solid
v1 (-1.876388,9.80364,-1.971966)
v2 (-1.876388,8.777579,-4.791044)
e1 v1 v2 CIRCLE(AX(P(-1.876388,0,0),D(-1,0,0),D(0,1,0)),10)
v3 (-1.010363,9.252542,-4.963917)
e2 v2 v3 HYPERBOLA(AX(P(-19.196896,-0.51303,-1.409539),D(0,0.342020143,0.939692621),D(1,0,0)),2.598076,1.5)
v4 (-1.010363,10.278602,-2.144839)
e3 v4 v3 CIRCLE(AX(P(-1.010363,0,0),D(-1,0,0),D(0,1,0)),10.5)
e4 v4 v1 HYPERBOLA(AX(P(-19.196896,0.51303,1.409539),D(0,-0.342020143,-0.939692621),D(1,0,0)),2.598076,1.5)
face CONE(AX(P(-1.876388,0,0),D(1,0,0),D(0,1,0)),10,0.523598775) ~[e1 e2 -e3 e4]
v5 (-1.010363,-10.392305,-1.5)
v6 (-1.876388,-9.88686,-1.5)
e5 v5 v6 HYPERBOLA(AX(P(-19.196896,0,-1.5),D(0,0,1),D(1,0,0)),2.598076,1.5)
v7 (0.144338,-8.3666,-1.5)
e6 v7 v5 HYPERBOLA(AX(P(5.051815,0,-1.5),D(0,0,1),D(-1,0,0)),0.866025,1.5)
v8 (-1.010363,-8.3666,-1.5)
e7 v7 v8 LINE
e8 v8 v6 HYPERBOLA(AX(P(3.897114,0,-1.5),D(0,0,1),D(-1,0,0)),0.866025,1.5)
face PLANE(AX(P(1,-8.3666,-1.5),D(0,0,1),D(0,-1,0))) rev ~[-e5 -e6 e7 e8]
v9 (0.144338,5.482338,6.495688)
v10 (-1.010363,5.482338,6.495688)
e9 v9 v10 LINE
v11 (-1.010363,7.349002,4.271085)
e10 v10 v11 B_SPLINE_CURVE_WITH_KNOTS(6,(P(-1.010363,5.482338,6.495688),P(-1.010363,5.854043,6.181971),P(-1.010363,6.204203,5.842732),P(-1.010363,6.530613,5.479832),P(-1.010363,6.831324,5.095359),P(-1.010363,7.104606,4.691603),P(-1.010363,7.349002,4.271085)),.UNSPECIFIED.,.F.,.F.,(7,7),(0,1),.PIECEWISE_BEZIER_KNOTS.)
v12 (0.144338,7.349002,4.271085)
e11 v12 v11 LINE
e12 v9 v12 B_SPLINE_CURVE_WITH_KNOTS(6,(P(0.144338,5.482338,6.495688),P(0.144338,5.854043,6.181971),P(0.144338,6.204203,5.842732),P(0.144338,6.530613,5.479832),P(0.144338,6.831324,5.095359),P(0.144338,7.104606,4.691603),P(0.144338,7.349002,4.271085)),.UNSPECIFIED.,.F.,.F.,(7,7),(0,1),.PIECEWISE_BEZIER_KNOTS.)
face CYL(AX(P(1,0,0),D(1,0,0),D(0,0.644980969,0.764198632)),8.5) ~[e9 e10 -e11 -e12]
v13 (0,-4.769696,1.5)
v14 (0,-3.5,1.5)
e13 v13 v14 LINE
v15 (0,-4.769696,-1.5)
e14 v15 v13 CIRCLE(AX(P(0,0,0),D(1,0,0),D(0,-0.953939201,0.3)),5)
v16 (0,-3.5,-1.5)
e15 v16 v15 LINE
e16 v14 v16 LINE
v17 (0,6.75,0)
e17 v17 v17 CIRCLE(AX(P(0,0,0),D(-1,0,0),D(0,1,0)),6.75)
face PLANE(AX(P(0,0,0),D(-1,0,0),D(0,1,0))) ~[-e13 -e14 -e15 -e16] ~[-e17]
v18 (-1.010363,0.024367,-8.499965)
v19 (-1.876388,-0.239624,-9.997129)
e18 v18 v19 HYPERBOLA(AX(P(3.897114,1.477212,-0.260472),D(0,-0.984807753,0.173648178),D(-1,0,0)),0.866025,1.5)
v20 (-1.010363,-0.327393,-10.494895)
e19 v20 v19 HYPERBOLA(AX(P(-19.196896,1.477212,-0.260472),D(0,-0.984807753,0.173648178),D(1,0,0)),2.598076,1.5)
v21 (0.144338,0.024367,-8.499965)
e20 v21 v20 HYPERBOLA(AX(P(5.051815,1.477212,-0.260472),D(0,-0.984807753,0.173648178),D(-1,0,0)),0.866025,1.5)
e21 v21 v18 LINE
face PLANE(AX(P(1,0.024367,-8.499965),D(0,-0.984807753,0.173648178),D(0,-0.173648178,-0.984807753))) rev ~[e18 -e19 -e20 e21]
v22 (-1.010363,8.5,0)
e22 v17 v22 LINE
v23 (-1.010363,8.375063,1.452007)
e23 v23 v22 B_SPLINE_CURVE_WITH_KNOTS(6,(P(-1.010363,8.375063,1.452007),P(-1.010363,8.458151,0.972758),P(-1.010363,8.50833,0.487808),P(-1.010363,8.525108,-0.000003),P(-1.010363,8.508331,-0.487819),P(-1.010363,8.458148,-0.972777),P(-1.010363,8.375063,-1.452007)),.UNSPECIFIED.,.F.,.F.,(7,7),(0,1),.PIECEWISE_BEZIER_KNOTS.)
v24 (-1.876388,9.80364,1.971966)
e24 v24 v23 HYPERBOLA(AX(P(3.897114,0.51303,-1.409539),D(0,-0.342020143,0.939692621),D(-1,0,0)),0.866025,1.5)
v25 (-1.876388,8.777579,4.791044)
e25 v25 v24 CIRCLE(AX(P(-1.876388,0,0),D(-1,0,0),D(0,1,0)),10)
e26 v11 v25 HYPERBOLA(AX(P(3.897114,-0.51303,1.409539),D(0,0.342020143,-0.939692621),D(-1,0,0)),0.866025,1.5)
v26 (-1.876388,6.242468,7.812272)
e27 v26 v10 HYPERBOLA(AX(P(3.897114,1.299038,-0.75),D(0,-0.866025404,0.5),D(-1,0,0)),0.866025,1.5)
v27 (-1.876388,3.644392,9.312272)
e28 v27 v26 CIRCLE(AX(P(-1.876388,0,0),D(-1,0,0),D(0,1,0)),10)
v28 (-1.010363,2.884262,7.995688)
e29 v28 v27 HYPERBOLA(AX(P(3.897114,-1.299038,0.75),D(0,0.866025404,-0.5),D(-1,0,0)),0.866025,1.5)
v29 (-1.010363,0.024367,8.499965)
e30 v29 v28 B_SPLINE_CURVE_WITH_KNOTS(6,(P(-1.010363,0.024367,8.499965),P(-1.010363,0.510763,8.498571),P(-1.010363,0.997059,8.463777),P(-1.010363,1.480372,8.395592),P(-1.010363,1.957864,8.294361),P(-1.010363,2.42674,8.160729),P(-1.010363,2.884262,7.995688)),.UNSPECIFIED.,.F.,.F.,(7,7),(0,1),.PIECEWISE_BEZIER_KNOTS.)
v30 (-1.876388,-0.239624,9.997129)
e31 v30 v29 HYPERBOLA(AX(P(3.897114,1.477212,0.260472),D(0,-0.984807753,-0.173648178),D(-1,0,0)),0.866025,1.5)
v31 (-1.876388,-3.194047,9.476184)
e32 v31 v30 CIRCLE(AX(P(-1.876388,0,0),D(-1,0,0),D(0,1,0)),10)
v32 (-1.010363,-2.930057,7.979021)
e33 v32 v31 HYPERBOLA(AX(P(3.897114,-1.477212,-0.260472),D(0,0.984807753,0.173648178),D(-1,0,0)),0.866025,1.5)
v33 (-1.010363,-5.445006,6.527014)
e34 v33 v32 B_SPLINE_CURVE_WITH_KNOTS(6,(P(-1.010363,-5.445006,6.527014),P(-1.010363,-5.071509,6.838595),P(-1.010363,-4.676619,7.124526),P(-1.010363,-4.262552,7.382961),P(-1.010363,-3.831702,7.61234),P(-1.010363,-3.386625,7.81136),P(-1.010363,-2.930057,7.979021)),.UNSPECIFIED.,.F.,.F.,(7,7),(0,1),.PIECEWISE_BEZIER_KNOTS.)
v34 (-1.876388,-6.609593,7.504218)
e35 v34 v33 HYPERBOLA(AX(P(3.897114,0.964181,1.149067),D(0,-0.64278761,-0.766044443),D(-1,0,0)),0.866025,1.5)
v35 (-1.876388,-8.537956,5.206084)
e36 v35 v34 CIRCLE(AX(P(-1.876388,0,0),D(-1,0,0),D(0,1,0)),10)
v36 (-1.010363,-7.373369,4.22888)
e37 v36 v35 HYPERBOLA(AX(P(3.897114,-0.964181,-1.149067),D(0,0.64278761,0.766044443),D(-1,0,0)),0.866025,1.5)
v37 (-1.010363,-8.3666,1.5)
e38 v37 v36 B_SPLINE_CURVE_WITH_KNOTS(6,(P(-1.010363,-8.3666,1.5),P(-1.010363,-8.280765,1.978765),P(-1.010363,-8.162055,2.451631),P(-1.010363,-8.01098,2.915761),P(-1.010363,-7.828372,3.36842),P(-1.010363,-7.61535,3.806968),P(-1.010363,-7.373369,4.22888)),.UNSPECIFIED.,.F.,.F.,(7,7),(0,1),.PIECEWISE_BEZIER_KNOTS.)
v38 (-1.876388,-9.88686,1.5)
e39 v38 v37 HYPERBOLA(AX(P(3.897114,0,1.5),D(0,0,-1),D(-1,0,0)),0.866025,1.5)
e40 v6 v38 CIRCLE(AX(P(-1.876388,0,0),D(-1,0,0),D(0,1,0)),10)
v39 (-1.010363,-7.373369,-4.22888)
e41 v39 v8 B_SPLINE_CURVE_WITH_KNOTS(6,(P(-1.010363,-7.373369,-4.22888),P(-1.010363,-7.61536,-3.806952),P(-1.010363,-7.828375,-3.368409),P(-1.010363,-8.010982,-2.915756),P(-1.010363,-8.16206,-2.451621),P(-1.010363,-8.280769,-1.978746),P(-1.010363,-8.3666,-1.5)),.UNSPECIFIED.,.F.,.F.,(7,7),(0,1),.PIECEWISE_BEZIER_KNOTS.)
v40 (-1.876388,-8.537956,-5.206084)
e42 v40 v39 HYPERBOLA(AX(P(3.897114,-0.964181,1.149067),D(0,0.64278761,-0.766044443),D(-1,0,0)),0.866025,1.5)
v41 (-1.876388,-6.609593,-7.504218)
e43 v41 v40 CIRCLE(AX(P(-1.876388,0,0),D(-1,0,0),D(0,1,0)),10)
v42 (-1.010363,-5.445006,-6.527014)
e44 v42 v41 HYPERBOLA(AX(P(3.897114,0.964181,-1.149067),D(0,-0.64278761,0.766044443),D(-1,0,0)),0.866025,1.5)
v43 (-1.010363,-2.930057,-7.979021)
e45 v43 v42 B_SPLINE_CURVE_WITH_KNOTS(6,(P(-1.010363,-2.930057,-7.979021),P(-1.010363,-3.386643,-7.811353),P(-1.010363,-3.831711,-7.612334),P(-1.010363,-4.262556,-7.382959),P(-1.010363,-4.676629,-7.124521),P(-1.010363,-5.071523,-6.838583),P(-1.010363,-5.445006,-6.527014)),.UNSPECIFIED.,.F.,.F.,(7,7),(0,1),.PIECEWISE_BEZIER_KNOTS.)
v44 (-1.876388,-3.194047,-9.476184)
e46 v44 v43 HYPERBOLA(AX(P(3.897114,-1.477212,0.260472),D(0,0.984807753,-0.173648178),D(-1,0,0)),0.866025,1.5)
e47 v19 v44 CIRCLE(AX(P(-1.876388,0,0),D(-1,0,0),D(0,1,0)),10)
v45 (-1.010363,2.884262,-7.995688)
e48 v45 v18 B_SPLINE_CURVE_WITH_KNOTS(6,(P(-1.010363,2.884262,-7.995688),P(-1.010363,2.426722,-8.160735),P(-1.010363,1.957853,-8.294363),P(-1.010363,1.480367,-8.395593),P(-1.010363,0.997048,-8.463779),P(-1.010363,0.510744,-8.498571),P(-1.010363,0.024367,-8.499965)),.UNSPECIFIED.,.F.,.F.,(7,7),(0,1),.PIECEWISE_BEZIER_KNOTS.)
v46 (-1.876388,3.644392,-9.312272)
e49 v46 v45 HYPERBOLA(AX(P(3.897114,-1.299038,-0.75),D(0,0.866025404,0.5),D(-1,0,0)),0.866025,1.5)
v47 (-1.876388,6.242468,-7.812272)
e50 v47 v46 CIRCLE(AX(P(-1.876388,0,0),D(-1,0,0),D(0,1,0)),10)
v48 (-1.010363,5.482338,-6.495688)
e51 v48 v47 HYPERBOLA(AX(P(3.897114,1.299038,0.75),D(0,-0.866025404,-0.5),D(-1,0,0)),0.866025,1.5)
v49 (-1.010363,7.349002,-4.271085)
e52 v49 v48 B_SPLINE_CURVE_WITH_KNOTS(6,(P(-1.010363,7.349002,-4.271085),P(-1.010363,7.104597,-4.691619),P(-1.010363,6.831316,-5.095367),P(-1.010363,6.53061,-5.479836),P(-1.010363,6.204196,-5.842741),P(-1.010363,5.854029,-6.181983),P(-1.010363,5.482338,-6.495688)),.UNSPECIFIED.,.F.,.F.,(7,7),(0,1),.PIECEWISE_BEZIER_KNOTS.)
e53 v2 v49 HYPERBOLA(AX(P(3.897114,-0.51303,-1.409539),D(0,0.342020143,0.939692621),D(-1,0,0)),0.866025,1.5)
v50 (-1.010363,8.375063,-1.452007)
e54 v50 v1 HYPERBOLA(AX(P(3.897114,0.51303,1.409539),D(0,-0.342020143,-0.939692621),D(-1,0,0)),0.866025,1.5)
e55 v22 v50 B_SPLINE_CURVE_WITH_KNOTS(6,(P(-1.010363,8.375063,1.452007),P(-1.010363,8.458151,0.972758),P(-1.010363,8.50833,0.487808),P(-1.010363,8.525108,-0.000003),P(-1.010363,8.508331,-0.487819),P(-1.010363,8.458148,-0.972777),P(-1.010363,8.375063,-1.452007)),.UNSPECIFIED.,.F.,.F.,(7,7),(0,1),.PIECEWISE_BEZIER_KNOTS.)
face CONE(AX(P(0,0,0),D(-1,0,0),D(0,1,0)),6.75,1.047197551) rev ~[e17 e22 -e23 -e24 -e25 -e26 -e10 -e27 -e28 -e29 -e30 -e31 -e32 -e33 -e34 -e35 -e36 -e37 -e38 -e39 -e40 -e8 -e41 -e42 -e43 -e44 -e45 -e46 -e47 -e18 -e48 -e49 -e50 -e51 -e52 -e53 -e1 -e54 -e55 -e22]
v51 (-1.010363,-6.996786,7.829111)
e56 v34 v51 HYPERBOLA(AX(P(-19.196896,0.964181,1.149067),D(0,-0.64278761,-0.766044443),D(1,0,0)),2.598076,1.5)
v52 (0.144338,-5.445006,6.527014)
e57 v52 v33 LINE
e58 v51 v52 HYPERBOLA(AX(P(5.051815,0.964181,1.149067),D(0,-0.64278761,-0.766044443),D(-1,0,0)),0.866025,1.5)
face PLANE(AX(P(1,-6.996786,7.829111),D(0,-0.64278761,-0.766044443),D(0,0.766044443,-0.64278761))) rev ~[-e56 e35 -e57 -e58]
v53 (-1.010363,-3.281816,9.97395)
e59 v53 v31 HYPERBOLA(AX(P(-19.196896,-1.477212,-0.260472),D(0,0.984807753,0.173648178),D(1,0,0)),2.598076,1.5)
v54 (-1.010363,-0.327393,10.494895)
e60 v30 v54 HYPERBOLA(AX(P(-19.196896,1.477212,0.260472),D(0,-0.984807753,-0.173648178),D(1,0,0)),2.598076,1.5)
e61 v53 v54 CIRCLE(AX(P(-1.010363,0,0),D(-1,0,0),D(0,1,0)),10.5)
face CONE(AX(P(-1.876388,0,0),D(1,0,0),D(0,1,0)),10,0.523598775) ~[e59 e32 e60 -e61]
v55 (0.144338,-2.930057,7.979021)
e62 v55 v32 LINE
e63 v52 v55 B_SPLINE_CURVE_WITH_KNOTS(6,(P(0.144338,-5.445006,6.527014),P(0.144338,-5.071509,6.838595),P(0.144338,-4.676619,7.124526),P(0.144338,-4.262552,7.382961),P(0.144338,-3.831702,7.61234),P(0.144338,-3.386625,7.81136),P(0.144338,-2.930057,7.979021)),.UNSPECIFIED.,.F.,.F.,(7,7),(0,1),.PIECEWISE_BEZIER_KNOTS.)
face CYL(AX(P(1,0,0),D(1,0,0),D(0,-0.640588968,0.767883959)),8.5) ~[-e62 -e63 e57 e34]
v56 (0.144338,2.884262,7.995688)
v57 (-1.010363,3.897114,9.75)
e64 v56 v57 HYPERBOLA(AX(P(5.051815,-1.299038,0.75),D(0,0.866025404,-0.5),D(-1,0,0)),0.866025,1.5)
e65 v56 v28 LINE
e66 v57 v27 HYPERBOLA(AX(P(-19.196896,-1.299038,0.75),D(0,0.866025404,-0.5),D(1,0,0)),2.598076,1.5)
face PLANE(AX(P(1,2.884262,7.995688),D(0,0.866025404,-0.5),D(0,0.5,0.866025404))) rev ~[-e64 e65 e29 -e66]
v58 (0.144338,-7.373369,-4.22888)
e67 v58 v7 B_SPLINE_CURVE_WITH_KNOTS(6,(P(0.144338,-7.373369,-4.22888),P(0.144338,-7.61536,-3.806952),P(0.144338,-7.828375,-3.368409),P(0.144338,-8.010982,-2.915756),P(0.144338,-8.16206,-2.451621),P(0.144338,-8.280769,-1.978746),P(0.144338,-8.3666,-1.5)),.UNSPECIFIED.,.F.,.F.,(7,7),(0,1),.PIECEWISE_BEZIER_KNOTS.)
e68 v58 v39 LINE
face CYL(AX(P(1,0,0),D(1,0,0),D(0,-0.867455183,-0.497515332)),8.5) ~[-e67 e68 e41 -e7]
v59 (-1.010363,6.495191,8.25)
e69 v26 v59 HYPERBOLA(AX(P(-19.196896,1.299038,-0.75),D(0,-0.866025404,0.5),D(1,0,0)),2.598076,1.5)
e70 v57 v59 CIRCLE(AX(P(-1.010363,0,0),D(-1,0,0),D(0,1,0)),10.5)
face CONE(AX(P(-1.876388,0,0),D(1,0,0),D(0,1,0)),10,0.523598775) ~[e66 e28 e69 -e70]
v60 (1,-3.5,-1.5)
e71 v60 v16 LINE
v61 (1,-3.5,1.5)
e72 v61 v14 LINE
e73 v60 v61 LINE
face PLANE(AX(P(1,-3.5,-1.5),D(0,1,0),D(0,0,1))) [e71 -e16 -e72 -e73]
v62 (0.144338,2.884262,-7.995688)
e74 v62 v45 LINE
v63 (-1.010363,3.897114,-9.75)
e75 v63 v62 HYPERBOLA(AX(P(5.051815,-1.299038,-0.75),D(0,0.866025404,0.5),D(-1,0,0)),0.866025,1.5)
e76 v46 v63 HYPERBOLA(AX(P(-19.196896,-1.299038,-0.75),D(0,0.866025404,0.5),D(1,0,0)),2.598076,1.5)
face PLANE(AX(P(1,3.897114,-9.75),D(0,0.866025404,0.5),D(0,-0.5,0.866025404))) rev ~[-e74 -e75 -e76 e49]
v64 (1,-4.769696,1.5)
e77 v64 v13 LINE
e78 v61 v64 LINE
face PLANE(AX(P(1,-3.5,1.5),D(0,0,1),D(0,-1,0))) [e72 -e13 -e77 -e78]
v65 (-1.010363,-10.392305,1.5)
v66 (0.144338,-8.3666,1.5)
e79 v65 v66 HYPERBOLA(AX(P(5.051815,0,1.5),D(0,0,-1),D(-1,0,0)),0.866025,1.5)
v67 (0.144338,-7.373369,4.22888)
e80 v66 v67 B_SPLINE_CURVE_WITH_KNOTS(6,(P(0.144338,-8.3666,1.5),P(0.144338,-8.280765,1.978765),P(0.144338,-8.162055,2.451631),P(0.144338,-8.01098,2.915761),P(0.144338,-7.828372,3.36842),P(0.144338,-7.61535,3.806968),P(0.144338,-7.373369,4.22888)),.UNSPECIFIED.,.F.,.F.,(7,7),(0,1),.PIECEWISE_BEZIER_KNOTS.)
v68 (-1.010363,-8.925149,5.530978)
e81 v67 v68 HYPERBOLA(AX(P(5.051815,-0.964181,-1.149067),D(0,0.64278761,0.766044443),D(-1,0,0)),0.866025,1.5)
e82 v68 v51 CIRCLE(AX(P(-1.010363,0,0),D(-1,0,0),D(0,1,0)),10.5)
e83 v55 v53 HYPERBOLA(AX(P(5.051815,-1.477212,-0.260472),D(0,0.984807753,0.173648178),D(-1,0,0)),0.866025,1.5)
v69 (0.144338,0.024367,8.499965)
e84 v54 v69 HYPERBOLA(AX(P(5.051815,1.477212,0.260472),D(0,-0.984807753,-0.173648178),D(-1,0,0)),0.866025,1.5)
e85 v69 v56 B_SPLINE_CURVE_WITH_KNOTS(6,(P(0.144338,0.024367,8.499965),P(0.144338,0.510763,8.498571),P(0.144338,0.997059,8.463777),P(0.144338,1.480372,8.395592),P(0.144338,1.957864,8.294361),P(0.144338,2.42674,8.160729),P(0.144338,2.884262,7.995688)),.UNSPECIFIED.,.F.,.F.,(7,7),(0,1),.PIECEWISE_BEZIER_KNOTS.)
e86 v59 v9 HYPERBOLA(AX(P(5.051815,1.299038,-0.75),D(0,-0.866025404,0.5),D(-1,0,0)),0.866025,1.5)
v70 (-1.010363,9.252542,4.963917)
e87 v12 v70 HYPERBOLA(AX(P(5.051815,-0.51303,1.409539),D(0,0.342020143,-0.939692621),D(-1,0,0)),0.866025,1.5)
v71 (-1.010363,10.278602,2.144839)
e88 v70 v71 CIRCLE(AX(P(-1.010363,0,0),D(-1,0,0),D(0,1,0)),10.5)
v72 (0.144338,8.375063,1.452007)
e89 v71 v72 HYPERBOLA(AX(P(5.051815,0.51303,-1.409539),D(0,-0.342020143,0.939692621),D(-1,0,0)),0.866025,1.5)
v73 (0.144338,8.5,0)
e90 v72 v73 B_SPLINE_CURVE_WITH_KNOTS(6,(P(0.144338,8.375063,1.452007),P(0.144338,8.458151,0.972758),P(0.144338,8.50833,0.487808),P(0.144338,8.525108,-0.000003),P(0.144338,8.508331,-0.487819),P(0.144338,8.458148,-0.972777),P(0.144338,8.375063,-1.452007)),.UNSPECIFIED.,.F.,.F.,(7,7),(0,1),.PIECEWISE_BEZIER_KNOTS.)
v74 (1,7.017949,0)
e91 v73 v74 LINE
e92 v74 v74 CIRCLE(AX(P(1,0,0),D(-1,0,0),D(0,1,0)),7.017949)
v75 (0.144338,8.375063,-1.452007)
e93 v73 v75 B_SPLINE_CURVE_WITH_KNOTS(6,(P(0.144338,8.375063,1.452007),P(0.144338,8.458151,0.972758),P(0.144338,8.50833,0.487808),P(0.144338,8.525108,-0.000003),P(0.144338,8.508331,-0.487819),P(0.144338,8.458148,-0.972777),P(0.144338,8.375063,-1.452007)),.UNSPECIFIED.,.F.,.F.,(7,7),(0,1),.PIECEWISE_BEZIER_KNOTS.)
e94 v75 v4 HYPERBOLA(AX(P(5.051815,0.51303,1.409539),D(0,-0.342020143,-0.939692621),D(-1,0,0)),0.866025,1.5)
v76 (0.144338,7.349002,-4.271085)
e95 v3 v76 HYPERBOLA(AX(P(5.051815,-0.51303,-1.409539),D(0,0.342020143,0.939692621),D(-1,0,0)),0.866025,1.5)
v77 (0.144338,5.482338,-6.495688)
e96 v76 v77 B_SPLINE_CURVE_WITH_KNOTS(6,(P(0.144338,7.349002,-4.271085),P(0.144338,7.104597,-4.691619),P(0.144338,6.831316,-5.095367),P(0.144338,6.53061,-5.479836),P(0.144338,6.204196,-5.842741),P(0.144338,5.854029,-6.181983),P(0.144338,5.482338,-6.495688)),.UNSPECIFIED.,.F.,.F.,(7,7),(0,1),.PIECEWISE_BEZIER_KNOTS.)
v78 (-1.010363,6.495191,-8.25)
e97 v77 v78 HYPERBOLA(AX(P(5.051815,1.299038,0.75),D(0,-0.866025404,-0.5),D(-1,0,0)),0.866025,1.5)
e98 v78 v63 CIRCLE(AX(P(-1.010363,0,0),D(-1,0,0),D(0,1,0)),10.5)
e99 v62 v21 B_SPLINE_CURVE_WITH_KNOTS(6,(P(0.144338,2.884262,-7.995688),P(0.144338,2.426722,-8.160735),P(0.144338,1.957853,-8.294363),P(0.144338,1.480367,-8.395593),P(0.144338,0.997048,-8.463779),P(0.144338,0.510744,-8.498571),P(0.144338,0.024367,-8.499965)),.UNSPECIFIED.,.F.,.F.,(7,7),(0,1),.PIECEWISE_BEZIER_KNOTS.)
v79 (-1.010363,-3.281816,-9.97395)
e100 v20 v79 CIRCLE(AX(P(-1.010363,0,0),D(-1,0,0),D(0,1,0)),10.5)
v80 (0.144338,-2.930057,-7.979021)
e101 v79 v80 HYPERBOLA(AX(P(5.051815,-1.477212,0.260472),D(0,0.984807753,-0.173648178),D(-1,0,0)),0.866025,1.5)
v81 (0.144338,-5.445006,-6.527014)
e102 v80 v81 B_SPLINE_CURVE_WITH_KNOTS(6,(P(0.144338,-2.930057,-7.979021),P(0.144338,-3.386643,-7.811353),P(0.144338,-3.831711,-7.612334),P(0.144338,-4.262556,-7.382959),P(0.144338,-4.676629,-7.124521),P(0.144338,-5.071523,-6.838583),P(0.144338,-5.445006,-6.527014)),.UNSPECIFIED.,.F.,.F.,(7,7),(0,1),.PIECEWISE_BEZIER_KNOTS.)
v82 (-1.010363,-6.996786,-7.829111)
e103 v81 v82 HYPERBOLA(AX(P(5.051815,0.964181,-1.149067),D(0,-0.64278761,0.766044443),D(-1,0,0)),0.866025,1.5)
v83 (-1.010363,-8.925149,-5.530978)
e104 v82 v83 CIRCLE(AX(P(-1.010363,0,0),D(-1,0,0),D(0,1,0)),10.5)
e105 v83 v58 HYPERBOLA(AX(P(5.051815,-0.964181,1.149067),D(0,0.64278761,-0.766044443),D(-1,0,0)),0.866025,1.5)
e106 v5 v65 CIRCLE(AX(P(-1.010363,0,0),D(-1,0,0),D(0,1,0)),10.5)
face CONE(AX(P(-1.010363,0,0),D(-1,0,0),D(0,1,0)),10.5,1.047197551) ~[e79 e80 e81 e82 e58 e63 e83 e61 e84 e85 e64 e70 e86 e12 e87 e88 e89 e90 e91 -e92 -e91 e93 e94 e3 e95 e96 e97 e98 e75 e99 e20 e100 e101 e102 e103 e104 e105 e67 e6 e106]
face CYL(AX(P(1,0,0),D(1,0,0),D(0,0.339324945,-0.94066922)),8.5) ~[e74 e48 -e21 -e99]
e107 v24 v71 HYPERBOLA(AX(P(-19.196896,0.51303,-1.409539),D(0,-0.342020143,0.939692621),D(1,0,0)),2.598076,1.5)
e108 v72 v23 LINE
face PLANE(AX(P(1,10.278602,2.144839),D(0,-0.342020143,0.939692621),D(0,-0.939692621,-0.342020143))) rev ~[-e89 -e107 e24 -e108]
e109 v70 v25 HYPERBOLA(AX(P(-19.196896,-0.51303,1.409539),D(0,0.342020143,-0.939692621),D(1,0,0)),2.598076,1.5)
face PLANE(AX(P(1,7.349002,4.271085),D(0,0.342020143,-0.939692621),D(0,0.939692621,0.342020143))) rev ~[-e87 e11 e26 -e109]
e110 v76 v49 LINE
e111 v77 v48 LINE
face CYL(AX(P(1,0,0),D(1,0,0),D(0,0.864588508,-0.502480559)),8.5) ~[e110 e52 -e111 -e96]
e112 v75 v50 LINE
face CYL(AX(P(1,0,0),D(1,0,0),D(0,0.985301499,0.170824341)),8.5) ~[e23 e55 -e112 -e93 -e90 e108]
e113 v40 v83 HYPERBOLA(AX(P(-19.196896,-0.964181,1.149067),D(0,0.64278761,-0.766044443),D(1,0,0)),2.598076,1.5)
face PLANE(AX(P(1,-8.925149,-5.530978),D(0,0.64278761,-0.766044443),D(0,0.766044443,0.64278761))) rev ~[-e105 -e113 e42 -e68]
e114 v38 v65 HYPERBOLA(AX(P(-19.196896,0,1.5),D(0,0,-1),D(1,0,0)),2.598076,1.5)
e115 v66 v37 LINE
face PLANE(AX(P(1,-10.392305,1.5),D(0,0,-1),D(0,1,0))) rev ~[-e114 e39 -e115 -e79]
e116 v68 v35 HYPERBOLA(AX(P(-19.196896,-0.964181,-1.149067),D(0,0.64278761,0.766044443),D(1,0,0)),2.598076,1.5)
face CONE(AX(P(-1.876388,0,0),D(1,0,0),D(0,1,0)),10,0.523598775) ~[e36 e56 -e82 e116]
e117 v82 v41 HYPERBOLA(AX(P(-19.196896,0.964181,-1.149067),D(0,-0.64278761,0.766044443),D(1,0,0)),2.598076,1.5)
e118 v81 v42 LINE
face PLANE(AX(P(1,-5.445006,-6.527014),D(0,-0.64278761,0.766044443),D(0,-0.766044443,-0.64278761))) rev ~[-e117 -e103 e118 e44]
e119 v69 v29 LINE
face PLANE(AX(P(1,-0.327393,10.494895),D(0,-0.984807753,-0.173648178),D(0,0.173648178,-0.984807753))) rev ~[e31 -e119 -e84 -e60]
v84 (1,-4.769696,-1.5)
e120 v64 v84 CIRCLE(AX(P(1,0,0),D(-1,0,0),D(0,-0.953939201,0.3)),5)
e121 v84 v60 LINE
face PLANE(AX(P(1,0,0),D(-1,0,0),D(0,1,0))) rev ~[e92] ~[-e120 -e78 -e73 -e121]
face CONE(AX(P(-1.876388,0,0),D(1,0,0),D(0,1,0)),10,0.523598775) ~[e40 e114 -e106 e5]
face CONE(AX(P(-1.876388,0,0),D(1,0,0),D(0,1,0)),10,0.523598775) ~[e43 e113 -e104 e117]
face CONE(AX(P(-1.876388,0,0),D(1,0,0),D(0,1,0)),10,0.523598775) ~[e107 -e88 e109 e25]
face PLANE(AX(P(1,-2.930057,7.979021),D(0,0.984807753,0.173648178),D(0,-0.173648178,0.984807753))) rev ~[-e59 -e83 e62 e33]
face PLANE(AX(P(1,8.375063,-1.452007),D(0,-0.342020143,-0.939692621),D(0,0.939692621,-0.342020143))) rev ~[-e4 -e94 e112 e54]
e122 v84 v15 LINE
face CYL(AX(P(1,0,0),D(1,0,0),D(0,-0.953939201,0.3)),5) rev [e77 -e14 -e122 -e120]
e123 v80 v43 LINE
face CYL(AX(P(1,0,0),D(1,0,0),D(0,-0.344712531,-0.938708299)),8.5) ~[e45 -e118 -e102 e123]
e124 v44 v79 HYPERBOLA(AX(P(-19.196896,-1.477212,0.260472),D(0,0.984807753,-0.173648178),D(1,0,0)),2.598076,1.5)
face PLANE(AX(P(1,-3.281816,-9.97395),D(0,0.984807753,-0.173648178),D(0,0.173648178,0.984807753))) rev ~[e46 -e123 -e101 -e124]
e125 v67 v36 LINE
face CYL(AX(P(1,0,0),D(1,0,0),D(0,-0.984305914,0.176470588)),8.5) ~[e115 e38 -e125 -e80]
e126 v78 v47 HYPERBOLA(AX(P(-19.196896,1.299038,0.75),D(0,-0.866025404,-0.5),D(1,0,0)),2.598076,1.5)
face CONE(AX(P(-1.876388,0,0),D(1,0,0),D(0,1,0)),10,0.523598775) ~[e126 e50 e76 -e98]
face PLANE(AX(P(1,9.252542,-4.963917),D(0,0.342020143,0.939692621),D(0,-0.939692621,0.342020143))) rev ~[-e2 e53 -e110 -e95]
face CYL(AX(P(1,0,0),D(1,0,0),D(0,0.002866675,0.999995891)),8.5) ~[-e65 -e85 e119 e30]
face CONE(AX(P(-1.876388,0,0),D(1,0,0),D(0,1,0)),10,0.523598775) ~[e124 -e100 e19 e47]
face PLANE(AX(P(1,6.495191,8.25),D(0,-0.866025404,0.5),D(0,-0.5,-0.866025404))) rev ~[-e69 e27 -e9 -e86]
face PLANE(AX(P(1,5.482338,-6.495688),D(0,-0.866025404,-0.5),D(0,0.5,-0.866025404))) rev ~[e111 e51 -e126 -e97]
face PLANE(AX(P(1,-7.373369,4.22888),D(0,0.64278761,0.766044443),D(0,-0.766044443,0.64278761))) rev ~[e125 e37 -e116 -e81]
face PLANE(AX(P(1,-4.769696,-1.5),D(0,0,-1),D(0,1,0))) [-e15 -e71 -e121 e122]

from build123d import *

# Parameters (mm, degrees)
ODEBRAT_VYSUNUT_M1_REACH = 17.125
ODEBRAT_VYSUNUT_M2_REACH = 17.125
KRUHOV_POLE1_COUNT       = 9


with BuildPart() as part:
    # Skica1 → Otočit kolem osy1 (revolve)
    with BuildSketch(Plane.XY):
        Polygon((0, 0), (0, 6.75), (-1.876388375, 10), (-1.010362971, 10.5), (1, 7.017949192), (1, 0), align=None)
    revolve(axis=Axis((0, 0, 0), (-1, 0, 0)))

    # Skica2 → Odebrat vysunutím1 (cut, up to next)
    with BuildSketch(Plane(origin=(1, 0, 0), x_dir=(0, 0, -1), z_dir=(1, 0, 0)), mode=Mode.PRIVATE) as odebrat_vysunut_m1_sk1:
        with BuildLine():
            Line((1.5, -4.769696007), (1.5, -3.5))
            Line((1.5, -3.5), (-1.5, -3.5))
            Line((-1.5, -3.5), (-1.5, -4.769696007))
            ThreePointArc((-1.5, -4.769696007), (0, 5), (1.5, -4.769696007))
        make_face()
    odebrat_vysunut_m1_tool1 = extrude(odebrat_vysunut_m1_sk1.sketch, amount=-ODEBRAT_VYSUNUT_M1_REACH, mode=Mode.PRIVATE) & part.part
    add(odebrat_vysunut_m1_tool1.solids().sort_by_distance((1, 0.242366, 0))[0], mode=Mode.SUBTRACT)

    # Skica3 → Odebrat vysunutím2 (cut, up to next)
    with BuildSketch(Plane(origin=(1, 0, 0), x_dir=(0, 0, -1), z_dir=(1, 0, 0)), mode=Mode.PRIVATE) as odebrat_vysunut_m2_sk1:
        with BuildLine():
            Line((-1.5, -10.392304845), (-1.5, -8.366600265))
            ThreePointArc((-1.5, -8.366600265), (-2.907171218, -7.987387277), (-4.228880321, -7.373369056))
            Line((-4.228880321, -7.373369056), (-5.530978126, -8.925148793))
            ThreePointArc((-5.530978126, -8.925148793), (-3.591211505, -9.866772518), (-1.5, -10.392304845))
        make_face()
    odebrat_vysunut_m2_tool1 = extrude(odebrat_vysunut_m2_sk1.sketch, amount=-ODEBRAT_VYSUNUT_M2_REACH, mode=Mode.PRIVATE) & part.part
    odebrat_vysunut_m2 = odebrat_vysunut_m2_tool1.solids().sort_by_distance((1, -8.932717, 3.251243))[0]
    add(odebrat_vysunut_m2, mode=Mode.SUBTRACT)

    # Kruhové pole1: Odebrat vysunutím2 ×9 about axis
    kruhov_pole1_axis = Axis((0, 0, 0), (1, 0, 0))
    for i in range(1, KRUHOV_POLE1_COUNT):
        add(odebrat_vysunut_m2.rotate(kruhov_pole1_axis, i * 360 / KRUHOV_POLE1_COUNT), mode=Mode.SUBTRACT)


solid = part.part
